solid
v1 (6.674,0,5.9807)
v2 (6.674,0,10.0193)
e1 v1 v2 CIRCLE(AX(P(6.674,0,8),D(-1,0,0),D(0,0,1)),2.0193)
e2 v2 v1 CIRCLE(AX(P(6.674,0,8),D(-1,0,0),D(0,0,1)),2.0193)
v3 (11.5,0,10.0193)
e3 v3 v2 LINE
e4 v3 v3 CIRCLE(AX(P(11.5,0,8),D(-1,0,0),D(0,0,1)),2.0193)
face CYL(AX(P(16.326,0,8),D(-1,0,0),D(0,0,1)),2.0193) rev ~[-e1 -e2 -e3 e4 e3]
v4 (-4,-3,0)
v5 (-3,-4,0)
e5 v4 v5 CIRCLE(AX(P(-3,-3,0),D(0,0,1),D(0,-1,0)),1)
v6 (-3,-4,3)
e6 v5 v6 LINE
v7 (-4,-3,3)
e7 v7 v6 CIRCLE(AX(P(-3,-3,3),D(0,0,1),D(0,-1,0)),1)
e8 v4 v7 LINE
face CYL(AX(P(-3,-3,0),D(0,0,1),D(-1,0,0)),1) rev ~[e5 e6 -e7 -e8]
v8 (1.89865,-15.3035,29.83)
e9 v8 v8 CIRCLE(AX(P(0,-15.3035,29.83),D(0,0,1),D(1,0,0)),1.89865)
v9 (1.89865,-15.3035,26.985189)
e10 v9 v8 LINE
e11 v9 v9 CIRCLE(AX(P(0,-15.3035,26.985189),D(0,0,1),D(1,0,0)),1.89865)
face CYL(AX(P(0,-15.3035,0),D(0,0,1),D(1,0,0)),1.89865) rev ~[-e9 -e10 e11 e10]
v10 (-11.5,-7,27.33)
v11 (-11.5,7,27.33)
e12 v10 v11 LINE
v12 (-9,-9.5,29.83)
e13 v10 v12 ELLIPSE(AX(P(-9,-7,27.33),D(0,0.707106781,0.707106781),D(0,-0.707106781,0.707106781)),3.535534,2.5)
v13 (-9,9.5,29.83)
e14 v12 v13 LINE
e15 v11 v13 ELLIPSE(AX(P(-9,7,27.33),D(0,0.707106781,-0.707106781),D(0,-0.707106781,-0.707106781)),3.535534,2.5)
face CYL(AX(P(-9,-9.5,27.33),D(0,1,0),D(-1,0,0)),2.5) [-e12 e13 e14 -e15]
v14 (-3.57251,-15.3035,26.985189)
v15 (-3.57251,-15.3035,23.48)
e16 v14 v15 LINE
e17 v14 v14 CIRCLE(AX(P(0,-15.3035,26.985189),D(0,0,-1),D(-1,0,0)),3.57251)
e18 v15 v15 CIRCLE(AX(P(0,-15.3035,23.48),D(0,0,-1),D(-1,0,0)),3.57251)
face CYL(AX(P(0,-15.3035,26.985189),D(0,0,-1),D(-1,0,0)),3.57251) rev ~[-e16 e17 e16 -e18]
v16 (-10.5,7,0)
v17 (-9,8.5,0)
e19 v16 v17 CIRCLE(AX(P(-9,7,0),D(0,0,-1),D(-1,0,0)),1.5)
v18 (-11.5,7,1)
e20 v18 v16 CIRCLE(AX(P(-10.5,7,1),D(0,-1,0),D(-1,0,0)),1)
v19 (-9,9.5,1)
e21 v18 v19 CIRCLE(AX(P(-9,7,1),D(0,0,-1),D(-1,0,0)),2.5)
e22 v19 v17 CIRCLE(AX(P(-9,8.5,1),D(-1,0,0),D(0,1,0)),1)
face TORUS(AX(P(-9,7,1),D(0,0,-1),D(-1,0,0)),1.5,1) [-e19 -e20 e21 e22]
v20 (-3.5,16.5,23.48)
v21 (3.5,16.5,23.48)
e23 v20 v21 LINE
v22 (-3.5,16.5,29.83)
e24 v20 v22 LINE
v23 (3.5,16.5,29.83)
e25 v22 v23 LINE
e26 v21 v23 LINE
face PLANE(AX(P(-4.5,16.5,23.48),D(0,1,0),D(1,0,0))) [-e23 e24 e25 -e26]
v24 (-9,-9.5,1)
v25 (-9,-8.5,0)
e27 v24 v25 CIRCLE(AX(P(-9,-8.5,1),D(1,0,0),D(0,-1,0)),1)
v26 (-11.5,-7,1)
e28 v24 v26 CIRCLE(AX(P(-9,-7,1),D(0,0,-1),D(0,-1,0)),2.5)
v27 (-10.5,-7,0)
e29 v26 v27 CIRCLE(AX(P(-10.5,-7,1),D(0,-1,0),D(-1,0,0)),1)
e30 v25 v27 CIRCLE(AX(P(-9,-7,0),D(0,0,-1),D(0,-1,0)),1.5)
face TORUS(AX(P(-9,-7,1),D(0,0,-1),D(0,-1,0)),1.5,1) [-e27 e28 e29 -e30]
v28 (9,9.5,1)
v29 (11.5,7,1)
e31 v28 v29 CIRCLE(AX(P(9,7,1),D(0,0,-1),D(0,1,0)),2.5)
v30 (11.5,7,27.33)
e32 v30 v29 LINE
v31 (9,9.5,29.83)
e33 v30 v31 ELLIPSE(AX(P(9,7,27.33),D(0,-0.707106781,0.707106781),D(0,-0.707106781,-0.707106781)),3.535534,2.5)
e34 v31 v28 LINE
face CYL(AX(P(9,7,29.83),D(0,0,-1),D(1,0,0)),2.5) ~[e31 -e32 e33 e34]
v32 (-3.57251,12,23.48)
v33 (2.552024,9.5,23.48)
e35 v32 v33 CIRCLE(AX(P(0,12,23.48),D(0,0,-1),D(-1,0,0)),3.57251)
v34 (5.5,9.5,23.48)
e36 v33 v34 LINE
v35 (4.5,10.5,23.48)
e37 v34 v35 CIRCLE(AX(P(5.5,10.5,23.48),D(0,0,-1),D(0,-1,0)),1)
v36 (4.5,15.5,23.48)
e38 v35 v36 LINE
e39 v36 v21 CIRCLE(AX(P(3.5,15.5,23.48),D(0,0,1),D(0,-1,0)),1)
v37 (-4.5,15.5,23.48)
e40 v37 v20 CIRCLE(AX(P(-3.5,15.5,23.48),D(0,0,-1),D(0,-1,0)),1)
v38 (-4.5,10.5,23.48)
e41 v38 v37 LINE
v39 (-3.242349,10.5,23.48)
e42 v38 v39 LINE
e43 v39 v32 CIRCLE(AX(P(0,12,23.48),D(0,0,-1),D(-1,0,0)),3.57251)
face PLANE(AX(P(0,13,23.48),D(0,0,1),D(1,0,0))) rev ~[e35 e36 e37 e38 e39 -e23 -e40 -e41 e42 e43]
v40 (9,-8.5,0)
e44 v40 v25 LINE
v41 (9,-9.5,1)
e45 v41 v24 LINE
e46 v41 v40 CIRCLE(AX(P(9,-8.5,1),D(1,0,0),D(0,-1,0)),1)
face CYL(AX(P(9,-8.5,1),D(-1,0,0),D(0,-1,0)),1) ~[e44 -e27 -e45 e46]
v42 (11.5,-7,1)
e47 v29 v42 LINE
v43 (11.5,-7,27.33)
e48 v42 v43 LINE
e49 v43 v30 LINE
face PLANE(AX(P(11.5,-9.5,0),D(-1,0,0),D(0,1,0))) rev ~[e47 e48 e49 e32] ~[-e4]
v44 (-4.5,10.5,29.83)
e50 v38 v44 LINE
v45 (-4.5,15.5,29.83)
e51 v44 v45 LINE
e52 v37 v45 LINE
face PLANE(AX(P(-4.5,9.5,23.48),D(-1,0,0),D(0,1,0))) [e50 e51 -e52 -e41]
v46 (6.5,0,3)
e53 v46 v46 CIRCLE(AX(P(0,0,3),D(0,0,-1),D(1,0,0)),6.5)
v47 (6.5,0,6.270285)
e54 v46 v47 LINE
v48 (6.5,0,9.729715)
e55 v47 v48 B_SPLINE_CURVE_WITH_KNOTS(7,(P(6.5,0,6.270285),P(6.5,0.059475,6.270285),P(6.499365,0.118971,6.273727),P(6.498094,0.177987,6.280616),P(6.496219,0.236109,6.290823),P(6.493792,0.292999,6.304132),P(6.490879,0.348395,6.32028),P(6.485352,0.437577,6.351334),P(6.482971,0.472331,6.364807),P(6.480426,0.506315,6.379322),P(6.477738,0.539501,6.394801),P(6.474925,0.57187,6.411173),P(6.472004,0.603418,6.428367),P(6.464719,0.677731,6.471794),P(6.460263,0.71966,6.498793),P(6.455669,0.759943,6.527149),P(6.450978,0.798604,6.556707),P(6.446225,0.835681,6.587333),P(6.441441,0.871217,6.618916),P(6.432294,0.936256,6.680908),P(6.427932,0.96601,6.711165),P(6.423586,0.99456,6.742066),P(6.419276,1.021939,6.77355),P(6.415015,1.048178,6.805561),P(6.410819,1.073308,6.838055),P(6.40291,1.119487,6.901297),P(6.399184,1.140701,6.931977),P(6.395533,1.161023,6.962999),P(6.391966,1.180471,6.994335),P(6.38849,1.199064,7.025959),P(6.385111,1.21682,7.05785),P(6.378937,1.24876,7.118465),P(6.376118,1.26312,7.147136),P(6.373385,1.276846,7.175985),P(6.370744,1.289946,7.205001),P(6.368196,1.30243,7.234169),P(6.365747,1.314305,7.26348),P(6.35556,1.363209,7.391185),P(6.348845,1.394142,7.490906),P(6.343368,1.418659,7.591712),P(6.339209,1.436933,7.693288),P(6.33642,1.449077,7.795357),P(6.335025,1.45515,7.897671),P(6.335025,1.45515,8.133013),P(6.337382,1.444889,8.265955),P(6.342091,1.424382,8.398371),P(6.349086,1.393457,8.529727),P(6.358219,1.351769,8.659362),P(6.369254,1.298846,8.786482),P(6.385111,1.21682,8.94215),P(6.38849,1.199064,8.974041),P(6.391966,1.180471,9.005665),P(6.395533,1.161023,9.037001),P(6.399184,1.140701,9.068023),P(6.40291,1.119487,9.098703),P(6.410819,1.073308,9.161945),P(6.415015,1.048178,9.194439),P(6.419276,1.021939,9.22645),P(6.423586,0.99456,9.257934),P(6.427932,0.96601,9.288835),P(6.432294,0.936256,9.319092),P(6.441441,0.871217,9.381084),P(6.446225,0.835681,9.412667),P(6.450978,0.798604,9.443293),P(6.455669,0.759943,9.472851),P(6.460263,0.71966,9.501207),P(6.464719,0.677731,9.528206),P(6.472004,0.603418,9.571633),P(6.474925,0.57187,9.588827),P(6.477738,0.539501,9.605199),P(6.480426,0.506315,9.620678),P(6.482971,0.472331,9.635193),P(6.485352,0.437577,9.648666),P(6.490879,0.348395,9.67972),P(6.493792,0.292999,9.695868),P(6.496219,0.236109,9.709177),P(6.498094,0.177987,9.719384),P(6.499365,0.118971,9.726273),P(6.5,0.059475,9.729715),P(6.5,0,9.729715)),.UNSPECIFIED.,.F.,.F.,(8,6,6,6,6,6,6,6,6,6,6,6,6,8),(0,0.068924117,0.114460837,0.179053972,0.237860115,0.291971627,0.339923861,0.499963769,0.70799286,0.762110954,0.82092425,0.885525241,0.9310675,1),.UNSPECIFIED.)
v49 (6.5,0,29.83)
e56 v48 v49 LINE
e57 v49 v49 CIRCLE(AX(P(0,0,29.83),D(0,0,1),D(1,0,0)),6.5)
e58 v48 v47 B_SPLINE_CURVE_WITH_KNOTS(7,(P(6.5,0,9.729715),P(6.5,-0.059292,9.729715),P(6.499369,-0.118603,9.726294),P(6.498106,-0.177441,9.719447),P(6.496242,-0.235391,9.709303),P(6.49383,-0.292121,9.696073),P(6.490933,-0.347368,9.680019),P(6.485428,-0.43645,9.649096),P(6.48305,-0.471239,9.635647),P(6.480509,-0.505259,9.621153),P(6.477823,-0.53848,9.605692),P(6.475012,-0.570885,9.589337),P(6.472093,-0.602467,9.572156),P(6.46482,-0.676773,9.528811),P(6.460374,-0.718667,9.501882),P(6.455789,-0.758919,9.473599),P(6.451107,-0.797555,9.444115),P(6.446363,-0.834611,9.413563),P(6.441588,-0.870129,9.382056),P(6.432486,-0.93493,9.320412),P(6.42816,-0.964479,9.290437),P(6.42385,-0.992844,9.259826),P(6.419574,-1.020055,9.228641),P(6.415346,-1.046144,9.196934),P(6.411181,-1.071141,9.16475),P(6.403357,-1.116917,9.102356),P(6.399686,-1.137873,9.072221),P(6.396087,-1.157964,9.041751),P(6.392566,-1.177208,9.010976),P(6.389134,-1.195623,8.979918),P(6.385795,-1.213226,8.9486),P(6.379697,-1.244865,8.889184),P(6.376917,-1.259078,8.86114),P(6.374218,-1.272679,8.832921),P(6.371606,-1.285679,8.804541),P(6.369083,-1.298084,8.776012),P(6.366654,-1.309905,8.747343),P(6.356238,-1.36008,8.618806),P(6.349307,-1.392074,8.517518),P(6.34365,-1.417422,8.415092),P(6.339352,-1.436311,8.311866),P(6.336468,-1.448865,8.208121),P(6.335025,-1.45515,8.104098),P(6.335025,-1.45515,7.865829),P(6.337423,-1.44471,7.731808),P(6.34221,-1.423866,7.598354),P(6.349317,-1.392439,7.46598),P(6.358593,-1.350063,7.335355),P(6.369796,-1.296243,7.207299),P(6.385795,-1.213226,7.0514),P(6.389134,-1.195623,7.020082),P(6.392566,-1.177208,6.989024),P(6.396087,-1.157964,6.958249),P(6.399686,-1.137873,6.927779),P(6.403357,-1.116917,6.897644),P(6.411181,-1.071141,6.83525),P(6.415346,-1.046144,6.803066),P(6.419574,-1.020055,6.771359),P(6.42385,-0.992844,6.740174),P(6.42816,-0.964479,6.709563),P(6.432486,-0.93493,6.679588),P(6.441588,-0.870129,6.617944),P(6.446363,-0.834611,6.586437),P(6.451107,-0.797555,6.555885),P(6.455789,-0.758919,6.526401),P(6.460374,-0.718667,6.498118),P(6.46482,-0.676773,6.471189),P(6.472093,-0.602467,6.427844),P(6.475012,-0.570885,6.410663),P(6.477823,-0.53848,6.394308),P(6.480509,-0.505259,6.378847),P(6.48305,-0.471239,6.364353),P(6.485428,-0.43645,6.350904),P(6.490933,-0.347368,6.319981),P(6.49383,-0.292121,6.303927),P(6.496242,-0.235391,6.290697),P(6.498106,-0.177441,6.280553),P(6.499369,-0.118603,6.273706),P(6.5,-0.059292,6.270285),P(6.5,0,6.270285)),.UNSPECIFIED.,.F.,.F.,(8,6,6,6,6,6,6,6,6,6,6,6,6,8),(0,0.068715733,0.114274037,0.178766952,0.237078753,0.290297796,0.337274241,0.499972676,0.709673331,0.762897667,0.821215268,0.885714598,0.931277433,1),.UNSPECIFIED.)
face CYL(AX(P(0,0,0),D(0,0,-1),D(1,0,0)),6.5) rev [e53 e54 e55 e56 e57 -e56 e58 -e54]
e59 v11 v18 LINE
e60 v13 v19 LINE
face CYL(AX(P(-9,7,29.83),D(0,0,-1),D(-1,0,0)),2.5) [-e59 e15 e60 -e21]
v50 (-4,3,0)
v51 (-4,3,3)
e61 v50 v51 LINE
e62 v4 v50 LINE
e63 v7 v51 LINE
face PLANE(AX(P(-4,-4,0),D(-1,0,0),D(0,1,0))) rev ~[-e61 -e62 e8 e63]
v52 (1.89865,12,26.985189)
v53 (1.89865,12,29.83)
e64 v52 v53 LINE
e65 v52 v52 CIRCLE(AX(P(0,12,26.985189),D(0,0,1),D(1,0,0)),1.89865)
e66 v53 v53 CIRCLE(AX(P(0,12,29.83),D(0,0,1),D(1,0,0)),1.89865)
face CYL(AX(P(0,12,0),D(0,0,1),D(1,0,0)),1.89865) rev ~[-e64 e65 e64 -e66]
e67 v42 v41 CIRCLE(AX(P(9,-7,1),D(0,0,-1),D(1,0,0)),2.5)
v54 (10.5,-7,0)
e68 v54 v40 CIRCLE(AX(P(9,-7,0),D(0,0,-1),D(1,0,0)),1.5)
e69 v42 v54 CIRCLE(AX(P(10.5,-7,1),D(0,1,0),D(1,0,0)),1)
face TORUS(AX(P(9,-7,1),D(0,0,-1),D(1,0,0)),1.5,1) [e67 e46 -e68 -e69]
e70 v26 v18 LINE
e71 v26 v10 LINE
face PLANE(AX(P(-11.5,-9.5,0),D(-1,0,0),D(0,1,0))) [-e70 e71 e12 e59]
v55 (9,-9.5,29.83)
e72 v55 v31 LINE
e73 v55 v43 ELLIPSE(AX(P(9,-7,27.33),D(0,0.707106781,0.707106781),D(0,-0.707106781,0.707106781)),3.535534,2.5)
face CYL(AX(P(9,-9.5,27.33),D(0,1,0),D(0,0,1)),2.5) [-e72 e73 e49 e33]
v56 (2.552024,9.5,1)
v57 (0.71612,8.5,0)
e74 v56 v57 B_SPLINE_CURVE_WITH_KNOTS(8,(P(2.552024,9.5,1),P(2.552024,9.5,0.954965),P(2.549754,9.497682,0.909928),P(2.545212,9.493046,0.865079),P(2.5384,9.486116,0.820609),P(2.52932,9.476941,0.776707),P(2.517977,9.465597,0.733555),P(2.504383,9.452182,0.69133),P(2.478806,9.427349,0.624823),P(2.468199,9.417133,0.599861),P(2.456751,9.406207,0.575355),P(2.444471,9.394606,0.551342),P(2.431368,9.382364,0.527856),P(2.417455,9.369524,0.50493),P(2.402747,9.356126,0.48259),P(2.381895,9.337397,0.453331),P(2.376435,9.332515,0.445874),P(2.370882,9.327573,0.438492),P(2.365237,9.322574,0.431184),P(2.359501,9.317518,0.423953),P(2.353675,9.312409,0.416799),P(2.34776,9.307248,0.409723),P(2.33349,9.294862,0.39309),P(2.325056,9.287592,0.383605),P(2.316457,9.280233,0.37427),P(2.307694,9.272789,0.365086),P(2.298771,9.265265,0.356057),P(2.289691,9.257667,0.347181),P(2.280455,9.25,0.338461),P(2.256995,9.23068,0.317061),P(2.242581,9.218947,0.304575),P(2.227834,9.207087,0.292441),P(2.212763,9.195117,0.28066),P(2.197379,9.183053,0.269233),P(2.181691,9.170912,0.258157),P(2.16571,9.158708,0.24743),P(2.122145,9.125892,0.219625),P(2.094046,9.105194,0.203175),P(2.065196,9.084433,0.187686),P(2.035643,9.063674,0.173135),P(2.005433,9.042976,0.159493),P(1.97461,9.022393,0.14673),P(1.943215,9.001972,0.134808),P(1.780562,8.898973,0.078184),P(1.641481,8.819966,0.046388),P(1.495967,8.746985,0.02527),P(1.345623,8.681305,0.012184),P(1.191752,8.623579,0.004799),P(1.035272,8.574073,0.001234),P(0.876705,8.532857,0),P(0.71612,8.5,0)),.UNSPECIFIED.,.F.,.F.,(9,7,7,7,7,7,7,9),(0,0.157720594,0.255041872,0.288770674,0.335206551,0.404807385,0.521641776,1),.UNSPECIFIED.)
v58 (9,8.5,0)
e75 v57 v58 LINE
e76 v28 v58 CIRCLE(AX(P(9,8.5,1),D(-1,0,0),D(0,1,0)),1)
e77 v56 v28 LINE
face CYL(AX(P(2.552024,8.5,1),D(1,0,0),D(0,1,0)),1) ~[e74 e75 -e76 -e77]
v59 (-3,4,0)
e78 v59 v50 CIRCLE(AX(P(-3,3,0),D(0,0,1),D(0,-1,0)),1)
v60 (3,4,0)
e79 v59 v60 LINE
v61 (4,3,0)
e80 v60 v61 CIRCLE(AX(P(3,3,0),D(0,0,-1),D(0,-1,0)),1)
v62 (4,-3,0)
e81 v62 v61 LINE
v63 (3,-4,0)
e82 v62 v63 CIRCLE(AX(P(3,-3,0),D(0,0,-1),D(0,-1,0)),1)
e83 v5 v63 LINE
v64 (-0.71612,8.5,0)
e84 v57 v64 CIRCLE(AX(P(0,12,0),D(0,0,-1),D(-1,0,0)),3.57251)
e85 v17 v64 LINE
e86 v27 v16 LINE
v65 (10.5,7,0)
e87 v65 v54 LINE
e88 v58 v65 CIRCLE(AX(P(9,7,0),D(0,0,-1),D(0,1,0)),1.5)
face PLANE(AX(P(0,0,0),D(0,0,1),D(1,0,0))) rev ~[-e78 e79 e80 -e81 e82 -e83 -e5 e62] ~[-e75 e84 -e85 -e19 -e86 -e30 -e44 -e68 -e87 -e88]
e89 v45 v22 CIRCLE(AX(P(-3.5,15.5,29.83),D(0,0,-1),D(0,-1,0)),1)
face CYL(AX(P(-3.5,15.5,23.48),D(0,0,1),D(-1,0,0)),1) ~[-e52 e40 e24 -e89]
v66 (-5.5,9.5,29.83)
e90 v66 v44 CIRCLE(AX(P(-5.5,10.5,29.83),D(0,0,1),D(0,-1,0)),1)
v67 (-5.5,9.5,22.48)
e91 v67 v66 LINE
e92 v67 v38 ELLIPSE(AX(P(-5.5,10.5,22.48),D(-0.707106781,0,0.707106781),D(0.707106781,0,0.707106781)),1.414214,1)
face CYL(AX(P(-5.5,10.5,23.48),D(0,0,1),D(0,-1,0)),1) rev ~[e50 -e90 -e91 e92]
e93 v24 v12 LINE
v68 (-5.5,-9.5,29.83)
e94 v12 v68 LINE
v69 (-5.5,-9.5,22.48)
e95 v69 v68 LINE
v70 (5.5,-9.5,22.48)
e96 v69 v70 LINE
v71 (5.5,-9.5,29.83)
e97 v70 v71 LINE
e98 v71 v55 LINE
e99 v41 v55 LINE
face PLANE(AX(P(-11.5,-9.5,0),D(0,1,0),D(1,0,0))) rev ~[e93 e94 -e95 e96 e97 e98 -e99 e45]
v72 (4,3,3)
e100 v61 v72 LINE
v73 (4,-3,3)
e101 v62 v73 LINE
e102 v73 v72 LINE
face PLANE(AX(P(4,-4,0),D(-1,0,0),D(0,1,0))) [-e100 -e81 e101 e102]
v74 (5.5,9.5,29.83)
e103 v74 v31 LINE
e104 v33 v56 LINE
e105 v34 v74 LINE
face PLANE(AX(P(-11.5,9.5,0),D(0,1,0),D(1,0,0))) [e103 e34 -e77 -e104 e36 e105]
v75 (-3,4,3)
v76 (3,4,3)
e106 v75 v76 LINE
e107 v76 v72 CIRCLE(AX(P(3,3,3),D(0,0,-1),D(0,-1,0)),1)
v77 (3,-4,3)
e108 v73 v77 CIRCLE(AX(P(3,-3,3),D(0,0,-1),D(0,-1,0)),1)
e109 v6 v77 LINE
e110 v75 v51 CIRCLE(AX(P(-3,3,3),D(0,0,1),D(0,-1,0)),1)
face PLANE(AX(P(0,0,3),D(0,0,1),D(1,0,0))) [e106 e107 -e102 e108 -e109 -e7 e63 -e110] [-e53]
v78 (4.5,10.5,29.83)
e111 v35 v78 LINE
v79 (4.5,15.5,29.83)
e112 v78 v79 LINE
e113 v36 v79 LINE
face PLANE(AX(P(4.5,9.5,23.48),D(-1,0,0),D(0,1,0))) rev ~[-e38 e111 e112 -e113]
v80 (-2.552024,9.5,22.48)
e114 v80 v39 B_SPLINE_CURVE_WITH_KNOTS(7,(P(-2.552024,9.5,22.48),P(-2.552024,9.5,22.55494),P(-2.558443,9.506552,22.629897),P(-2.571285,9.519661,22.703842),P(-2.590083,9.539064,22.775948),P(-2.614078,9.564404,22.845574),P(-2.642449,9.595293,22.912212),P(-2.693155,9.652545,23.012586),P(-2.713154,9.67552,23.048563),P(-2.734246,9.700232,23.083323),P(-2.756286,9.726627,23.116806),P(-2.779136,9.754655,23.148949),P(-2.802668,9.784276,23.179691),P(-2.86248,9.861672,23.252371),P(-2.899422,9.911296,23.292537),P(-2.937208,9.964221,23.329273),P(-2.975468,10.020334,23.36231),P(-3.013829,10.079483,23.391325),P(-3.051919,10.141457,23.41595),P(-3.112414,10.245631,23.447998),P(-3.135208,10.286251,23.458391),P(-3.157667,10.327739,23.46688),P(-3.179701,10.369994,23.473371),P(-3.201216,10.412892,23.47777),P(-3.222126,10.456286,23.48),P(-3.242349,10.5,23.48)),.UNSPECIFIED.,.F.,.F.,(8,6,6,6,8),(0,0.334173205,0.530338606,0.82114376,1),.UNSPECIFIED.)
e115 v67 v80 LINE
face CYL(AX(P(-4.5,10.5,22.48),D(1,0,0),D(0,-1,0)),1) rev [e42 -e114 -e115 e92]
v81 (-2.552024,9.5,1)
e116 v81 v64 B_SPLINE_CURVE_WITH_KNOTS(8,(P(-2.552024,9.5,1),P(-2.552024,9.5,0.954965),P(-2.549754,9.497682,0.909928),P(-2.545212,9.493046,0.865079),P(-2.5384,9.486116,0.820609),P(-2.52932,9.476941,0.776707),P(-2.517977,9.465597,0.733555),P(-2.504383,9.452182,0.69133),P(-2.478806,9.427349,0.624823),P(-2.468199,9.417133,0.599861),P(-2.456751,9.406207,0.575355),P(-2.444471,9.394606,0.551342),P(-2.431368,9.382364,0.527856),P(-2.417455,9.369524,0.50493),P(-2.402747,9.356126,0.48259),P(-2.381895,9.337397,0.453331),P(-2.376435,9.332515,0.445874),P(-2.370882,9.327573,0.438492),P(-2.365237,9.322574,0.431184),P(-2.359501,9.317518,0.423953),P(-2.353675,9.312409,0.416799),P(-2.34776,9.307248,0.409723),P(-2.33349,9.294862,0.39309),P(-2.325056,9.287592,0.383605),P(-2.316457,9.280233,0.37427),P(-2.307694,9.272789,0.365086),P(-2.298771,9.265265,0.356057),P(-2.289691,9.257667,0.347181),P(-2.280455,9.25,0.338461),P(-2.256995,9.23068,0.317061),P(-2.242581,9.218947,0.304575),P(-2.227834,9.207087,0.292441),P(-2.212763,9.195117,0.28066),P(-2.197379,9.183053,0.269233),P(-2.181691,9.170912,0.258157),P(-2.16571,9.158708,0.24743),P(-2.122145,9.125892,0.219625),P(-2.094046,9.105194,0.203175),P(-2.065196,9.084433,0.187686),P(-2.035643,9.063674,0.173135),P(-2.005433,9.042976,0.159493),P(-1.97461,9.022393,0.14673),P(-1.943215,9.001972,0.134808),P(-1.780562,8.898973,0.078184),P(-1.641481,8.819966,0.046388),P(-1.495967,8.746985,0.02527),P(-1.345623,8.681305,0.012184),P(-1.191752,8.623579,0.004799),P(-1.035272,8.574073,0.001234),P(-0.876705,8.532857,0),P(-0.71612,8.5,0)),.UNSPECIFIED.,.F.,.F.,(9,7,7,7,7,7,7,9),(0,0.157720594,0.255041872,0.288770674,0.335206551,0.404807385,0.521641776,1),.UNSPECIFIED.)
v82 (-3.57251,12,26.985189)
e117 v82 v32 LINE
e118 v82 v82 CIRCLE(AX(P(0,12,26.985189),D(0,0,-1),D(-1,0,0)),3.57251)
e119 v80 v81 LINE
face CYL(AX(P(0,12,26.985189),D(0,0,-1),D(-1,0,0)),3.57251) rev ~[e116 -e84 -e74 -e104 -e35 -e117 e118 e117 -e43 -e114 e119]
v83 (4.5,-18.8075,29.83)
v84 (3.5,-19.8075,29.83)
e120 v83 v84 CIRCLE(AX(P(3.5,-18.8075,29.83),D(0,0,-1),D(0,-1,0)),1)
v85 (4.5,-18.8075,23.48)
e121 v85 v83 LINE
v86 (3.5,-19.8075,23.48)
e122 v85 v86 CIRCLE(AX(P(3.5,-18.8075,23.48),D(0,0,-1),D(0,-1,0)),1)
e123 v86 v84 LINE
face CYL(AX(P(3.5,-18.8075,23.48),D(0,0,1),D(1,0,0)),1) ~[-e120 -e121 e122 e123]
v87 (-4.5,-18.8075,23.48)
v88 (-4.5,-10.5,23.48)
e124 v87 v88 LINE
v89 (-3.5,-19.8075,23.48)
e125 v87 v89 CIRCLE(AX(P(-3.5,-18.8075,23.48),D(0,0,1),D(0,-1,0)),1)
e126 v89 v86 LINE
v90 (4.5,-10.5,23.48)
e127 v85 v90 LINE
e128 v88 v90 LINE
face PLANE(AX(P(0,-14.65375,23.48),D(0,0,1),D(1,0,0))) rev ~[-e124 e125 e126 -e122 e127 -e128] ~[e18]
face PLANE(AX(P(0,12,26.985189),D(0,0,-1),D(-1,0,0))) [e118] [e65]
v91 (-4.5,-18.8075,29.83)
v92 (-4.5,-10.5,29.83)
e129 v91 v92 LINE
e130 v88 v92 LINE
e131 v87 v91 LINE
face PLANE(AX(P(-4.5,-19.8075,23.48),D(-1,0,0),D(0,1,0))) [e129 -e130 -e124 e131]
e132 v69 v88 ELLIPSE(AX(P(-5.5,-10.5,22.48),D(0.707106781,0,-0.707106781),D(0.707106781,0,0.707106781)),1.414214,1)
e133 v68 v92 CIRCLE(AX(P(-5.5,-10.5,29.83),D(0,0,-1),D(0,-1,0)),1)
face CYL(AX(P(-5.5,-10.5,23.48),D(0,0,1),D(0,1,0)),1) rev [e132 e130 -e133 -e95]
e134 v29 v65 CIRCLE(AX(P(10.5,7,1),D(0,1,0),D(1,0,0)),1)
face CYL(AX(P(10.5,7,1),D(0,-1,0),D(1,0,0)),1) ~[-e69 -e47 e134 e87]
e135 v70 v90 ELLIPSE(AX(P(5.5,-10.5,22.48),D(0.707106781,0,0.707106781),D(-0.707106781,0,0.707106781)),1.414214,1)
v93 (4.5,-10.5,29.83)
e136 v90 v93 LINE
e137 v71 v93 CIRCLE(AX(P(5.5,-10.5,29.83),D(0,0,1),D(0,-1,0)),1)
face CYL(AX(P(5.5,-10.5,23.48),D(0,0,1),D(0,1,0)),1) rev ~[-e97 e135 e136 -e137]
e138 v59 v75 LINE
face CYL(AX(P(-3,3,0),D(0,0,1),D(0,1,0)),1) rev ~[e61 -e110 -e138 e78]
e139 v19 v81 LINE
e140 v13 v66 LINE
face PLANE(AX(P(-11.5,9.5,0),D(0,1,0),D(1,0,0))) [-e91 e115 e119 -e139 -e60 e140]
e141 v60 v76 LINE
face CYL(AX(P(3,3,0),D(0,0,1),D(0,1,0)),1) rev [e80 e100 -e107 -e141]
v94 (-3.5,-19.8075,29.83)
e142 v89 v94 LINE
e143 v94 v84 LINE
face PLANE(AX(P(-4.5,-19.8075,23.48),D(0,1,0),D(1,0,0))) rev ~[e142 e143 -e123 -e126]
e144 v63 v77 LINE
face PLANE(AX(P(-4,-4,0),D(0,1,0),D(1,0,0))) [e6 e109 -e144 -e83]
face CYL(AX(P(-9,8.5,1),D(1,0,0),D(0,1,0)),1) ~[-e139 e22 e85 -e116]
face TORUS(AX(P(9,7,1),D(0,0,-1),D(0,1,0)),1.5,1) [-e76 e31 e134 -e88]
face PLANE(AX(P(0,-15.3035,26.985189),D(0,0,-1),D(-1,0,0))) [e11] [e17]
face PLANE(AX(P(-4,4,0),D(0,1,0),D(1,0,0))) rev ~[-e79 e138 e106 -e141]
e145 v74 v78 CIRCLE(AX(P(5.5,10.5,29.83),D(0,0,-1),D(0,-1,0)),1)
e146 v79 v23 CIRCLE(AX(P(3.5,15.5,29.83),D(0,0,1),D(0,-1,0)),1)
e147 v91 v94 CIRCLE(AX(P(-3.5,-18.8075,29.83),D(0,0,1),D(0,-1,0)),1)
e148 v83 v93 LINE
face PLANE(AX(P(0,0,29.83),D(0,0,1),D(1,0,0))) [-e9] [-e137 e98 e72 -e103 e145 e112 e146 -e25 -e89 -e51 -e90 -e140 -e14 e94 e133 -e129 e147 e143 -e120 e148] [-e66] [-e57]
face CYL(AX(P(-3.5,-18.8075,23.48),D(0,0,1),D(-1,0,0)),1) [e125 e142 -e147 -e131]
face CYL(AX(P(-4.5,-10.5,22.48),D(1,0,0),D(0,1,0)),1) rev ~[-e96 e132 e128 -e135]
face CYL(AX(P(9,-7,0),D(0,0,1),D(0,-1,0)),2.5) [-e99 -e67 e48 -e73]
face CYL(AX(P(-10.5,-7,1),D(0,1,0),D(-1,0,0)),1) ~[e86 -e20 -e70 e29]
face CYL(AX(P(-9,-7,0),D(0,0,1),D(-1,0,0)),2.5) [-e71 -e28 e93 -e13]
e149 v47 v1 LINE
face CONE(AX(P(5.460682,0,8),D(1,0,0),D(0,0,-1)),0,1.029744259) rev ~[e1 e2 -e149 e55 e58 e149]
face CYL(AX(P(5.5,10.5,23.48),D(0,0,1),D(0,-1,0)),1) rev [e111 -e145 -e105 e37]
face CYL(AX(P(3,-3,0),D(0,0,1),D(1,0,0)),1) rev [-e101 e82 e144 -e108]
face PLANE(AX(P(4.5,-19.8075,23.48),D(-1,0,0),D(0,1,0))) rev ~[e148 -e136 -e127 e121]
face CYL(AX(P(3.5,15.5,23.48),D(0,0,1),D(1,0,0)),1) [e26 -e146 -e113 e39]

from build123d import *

# Parameters (mm, degrees)
SKETCH1_W                                      = 23
SKETCH1_H                                      = 19
SKETCH1_W_2                                    = 8
SKETCH1_H_2                                    = 8
TOP_DEPTH                                      = 3
SKETCH1_4_W                                    = 23
SKETCH1_4_H                                    = 19
SKETCH1_4_R                                    = 6.5
BODY_DEPTH                                     = 29.83
TABS_START                                     = 23.48
SKETCH1_6_W                                    = 9
SKETCH1_6_H                                    = 7
SKETCH1_6_H_2                                  = 10.3075
TABS_DEPTH                                     = 6.35
F_36_0_1065_DIA_SET_SCREW_D                    = 4.0386
F_36_0_1065_DIA_SET_SCREW_DEPTH                = 4.826
F_36_0_1065_DIA_SET_SCREW_TIP                  = 1.213317848
CBORE_FOR_6_SOCKET_HEAD_CAP_SCREW1_D           = 3.7973
CBORE_FOR_6_SOCKET_HEAD_CAP_SCREW1_CBORE_D     = 7.14502
CBORE_FOR_6_SOCKET_HEAD_CAP_SCREW1_CBORE_DEPTH = 26.9851886
FILLET4_R                                      = 2.5
FILLET5_R                                      = 1


with BuildPart() as part:
    # Sketch1 → Top (new body)
    with BuildSketch(Plane.XY):
        Rectangle(SKETCH1_W, SKETCH1_H)
        Rectangle(SKETCH1_W_2, SKETCH1_H_2, mode=Mode.SUBTRACT)
    extrude(amount=TOP_DEPTH)

    # Sketch1<4> → Body (add)
    with BuildSketch(Plane.XY):
        Rectangle(SKETCH1_4_W, SKETCH1_4_H)
        Circle(SKETCH1_4_R, mode=Mode.SUBTRACT)
    extrude(amount=BODY_DEPTH)

    # Sketch1<6> → Tabs (add)
    with BuildSketch(Plane.XY.offset(TABS_START)):
        with Locations((0, 13)):
            Rectangle(SKETCH1_6_W, SKETCH1_6_H)
        with Locations((0, -14.65375)):
            Rectangle(SKETCH1_6_W, SKETCH1_6_H_2)
    extrude(amount=TABS_DEPTH)

    # #36 (0.1065) Dia. Set Screw
    with Locations(Plane(origin=(11.5, 0, 0), x_dir=(0, 0, -1), z_dir=(1, 0, 0))):
        with Locations((-8, 0)):
            Hole(F_36_0_1065_DIA_SET_SCREW_D / 2, depth=F_36_0_1065_DIA_SET_SCREW_DEPTH)
            with Locations((0, 0, -(F_36_0_1065_DIA_SET_SCREW_DEPTH + F_36_0_1065_DIA_SET_SCREW_TIP / 2))):  # 118° drill point
                Cone(0, F_36_0_1065_DIA_SET_SCREW_D / 2, F_36_0_1065_DIA_SET_SCREW_TIP, mode=Mode.SUBTRACT)

    # CBORE for #6 Socket Head Cap Screw1 (through all)
    with Locations(Plane(origin=(0, 12, 0), x_dir=(-1, 0, 0), z_dir=(0, 0, -1))):
        with Locations((0, 0), (0, -27.3035)):
            CounterBoreHole(CBORE_FOR_6_SOCKET_HEAD_CAP_SCREW1_D / 2, CBORE_FOR_6_SOCKET_HEAD_CAP_SCREW1_CBORE_D / 2, CBORE_FOR_6_SOCKET_HEAD_CAP_SCREW1_CBORE_DEPTH)

    # Fillet4
    fillet4_edges = [part.edges().sort_by_distance(p)[0] for p in [
        (-11.5, 9.5, 14.915),
        (-11.5, -9.5, 14.915),
        (11.5, -9.5, 14.915),
        (11.5, 9.5, 14.915),
        (-11.5, 0, 29.83),
        (11.5, 0, 29.83),
    ]]
    fillet(fillet4_edges, radius=FILLET4_R)

    # Fillet5
    fillet5_edges = [part.edges().sort_by_distance(p)[0] for p in [
        (-11.5, 0, 0),
        (11.5, 0, 0),
        (0, -9.5, 0),
        (-5.776012118, 9.5, 0),
        (10.767766953, 8.767766953, 0),
        (10.767766953, -8.767766953, 0),
        (-10.767766953, -8.767766953, 0),
        (-10.767766953, 8.767766953, 0),
        (-4, 4, 1.5),
        (-4, -4, 1.5),
        (4, -4, 1.5),
        (4, 4, 1.5),
        (-4.5, 16.5, 26.655),
        (-3.526012118, 9.5, 23.48),
        (-4.5, 9.5, 26.655),
        (4.5, 9.5, 26.655),
        (4.5, 16.5, 26.655),
        (4.5, -9.5, 26.655),
        (-4.5, -9.5, 26.655),
        (-4.5, -19.8075, 26.655),
        (4.5, -19.8075, 26.655),
        (0, -9.5, 23.48),
        (5.776012118, 9.5, 0),
    ]]
    fillet(fillet5_edges, radius=FILLET5_R)


solid = part.part
